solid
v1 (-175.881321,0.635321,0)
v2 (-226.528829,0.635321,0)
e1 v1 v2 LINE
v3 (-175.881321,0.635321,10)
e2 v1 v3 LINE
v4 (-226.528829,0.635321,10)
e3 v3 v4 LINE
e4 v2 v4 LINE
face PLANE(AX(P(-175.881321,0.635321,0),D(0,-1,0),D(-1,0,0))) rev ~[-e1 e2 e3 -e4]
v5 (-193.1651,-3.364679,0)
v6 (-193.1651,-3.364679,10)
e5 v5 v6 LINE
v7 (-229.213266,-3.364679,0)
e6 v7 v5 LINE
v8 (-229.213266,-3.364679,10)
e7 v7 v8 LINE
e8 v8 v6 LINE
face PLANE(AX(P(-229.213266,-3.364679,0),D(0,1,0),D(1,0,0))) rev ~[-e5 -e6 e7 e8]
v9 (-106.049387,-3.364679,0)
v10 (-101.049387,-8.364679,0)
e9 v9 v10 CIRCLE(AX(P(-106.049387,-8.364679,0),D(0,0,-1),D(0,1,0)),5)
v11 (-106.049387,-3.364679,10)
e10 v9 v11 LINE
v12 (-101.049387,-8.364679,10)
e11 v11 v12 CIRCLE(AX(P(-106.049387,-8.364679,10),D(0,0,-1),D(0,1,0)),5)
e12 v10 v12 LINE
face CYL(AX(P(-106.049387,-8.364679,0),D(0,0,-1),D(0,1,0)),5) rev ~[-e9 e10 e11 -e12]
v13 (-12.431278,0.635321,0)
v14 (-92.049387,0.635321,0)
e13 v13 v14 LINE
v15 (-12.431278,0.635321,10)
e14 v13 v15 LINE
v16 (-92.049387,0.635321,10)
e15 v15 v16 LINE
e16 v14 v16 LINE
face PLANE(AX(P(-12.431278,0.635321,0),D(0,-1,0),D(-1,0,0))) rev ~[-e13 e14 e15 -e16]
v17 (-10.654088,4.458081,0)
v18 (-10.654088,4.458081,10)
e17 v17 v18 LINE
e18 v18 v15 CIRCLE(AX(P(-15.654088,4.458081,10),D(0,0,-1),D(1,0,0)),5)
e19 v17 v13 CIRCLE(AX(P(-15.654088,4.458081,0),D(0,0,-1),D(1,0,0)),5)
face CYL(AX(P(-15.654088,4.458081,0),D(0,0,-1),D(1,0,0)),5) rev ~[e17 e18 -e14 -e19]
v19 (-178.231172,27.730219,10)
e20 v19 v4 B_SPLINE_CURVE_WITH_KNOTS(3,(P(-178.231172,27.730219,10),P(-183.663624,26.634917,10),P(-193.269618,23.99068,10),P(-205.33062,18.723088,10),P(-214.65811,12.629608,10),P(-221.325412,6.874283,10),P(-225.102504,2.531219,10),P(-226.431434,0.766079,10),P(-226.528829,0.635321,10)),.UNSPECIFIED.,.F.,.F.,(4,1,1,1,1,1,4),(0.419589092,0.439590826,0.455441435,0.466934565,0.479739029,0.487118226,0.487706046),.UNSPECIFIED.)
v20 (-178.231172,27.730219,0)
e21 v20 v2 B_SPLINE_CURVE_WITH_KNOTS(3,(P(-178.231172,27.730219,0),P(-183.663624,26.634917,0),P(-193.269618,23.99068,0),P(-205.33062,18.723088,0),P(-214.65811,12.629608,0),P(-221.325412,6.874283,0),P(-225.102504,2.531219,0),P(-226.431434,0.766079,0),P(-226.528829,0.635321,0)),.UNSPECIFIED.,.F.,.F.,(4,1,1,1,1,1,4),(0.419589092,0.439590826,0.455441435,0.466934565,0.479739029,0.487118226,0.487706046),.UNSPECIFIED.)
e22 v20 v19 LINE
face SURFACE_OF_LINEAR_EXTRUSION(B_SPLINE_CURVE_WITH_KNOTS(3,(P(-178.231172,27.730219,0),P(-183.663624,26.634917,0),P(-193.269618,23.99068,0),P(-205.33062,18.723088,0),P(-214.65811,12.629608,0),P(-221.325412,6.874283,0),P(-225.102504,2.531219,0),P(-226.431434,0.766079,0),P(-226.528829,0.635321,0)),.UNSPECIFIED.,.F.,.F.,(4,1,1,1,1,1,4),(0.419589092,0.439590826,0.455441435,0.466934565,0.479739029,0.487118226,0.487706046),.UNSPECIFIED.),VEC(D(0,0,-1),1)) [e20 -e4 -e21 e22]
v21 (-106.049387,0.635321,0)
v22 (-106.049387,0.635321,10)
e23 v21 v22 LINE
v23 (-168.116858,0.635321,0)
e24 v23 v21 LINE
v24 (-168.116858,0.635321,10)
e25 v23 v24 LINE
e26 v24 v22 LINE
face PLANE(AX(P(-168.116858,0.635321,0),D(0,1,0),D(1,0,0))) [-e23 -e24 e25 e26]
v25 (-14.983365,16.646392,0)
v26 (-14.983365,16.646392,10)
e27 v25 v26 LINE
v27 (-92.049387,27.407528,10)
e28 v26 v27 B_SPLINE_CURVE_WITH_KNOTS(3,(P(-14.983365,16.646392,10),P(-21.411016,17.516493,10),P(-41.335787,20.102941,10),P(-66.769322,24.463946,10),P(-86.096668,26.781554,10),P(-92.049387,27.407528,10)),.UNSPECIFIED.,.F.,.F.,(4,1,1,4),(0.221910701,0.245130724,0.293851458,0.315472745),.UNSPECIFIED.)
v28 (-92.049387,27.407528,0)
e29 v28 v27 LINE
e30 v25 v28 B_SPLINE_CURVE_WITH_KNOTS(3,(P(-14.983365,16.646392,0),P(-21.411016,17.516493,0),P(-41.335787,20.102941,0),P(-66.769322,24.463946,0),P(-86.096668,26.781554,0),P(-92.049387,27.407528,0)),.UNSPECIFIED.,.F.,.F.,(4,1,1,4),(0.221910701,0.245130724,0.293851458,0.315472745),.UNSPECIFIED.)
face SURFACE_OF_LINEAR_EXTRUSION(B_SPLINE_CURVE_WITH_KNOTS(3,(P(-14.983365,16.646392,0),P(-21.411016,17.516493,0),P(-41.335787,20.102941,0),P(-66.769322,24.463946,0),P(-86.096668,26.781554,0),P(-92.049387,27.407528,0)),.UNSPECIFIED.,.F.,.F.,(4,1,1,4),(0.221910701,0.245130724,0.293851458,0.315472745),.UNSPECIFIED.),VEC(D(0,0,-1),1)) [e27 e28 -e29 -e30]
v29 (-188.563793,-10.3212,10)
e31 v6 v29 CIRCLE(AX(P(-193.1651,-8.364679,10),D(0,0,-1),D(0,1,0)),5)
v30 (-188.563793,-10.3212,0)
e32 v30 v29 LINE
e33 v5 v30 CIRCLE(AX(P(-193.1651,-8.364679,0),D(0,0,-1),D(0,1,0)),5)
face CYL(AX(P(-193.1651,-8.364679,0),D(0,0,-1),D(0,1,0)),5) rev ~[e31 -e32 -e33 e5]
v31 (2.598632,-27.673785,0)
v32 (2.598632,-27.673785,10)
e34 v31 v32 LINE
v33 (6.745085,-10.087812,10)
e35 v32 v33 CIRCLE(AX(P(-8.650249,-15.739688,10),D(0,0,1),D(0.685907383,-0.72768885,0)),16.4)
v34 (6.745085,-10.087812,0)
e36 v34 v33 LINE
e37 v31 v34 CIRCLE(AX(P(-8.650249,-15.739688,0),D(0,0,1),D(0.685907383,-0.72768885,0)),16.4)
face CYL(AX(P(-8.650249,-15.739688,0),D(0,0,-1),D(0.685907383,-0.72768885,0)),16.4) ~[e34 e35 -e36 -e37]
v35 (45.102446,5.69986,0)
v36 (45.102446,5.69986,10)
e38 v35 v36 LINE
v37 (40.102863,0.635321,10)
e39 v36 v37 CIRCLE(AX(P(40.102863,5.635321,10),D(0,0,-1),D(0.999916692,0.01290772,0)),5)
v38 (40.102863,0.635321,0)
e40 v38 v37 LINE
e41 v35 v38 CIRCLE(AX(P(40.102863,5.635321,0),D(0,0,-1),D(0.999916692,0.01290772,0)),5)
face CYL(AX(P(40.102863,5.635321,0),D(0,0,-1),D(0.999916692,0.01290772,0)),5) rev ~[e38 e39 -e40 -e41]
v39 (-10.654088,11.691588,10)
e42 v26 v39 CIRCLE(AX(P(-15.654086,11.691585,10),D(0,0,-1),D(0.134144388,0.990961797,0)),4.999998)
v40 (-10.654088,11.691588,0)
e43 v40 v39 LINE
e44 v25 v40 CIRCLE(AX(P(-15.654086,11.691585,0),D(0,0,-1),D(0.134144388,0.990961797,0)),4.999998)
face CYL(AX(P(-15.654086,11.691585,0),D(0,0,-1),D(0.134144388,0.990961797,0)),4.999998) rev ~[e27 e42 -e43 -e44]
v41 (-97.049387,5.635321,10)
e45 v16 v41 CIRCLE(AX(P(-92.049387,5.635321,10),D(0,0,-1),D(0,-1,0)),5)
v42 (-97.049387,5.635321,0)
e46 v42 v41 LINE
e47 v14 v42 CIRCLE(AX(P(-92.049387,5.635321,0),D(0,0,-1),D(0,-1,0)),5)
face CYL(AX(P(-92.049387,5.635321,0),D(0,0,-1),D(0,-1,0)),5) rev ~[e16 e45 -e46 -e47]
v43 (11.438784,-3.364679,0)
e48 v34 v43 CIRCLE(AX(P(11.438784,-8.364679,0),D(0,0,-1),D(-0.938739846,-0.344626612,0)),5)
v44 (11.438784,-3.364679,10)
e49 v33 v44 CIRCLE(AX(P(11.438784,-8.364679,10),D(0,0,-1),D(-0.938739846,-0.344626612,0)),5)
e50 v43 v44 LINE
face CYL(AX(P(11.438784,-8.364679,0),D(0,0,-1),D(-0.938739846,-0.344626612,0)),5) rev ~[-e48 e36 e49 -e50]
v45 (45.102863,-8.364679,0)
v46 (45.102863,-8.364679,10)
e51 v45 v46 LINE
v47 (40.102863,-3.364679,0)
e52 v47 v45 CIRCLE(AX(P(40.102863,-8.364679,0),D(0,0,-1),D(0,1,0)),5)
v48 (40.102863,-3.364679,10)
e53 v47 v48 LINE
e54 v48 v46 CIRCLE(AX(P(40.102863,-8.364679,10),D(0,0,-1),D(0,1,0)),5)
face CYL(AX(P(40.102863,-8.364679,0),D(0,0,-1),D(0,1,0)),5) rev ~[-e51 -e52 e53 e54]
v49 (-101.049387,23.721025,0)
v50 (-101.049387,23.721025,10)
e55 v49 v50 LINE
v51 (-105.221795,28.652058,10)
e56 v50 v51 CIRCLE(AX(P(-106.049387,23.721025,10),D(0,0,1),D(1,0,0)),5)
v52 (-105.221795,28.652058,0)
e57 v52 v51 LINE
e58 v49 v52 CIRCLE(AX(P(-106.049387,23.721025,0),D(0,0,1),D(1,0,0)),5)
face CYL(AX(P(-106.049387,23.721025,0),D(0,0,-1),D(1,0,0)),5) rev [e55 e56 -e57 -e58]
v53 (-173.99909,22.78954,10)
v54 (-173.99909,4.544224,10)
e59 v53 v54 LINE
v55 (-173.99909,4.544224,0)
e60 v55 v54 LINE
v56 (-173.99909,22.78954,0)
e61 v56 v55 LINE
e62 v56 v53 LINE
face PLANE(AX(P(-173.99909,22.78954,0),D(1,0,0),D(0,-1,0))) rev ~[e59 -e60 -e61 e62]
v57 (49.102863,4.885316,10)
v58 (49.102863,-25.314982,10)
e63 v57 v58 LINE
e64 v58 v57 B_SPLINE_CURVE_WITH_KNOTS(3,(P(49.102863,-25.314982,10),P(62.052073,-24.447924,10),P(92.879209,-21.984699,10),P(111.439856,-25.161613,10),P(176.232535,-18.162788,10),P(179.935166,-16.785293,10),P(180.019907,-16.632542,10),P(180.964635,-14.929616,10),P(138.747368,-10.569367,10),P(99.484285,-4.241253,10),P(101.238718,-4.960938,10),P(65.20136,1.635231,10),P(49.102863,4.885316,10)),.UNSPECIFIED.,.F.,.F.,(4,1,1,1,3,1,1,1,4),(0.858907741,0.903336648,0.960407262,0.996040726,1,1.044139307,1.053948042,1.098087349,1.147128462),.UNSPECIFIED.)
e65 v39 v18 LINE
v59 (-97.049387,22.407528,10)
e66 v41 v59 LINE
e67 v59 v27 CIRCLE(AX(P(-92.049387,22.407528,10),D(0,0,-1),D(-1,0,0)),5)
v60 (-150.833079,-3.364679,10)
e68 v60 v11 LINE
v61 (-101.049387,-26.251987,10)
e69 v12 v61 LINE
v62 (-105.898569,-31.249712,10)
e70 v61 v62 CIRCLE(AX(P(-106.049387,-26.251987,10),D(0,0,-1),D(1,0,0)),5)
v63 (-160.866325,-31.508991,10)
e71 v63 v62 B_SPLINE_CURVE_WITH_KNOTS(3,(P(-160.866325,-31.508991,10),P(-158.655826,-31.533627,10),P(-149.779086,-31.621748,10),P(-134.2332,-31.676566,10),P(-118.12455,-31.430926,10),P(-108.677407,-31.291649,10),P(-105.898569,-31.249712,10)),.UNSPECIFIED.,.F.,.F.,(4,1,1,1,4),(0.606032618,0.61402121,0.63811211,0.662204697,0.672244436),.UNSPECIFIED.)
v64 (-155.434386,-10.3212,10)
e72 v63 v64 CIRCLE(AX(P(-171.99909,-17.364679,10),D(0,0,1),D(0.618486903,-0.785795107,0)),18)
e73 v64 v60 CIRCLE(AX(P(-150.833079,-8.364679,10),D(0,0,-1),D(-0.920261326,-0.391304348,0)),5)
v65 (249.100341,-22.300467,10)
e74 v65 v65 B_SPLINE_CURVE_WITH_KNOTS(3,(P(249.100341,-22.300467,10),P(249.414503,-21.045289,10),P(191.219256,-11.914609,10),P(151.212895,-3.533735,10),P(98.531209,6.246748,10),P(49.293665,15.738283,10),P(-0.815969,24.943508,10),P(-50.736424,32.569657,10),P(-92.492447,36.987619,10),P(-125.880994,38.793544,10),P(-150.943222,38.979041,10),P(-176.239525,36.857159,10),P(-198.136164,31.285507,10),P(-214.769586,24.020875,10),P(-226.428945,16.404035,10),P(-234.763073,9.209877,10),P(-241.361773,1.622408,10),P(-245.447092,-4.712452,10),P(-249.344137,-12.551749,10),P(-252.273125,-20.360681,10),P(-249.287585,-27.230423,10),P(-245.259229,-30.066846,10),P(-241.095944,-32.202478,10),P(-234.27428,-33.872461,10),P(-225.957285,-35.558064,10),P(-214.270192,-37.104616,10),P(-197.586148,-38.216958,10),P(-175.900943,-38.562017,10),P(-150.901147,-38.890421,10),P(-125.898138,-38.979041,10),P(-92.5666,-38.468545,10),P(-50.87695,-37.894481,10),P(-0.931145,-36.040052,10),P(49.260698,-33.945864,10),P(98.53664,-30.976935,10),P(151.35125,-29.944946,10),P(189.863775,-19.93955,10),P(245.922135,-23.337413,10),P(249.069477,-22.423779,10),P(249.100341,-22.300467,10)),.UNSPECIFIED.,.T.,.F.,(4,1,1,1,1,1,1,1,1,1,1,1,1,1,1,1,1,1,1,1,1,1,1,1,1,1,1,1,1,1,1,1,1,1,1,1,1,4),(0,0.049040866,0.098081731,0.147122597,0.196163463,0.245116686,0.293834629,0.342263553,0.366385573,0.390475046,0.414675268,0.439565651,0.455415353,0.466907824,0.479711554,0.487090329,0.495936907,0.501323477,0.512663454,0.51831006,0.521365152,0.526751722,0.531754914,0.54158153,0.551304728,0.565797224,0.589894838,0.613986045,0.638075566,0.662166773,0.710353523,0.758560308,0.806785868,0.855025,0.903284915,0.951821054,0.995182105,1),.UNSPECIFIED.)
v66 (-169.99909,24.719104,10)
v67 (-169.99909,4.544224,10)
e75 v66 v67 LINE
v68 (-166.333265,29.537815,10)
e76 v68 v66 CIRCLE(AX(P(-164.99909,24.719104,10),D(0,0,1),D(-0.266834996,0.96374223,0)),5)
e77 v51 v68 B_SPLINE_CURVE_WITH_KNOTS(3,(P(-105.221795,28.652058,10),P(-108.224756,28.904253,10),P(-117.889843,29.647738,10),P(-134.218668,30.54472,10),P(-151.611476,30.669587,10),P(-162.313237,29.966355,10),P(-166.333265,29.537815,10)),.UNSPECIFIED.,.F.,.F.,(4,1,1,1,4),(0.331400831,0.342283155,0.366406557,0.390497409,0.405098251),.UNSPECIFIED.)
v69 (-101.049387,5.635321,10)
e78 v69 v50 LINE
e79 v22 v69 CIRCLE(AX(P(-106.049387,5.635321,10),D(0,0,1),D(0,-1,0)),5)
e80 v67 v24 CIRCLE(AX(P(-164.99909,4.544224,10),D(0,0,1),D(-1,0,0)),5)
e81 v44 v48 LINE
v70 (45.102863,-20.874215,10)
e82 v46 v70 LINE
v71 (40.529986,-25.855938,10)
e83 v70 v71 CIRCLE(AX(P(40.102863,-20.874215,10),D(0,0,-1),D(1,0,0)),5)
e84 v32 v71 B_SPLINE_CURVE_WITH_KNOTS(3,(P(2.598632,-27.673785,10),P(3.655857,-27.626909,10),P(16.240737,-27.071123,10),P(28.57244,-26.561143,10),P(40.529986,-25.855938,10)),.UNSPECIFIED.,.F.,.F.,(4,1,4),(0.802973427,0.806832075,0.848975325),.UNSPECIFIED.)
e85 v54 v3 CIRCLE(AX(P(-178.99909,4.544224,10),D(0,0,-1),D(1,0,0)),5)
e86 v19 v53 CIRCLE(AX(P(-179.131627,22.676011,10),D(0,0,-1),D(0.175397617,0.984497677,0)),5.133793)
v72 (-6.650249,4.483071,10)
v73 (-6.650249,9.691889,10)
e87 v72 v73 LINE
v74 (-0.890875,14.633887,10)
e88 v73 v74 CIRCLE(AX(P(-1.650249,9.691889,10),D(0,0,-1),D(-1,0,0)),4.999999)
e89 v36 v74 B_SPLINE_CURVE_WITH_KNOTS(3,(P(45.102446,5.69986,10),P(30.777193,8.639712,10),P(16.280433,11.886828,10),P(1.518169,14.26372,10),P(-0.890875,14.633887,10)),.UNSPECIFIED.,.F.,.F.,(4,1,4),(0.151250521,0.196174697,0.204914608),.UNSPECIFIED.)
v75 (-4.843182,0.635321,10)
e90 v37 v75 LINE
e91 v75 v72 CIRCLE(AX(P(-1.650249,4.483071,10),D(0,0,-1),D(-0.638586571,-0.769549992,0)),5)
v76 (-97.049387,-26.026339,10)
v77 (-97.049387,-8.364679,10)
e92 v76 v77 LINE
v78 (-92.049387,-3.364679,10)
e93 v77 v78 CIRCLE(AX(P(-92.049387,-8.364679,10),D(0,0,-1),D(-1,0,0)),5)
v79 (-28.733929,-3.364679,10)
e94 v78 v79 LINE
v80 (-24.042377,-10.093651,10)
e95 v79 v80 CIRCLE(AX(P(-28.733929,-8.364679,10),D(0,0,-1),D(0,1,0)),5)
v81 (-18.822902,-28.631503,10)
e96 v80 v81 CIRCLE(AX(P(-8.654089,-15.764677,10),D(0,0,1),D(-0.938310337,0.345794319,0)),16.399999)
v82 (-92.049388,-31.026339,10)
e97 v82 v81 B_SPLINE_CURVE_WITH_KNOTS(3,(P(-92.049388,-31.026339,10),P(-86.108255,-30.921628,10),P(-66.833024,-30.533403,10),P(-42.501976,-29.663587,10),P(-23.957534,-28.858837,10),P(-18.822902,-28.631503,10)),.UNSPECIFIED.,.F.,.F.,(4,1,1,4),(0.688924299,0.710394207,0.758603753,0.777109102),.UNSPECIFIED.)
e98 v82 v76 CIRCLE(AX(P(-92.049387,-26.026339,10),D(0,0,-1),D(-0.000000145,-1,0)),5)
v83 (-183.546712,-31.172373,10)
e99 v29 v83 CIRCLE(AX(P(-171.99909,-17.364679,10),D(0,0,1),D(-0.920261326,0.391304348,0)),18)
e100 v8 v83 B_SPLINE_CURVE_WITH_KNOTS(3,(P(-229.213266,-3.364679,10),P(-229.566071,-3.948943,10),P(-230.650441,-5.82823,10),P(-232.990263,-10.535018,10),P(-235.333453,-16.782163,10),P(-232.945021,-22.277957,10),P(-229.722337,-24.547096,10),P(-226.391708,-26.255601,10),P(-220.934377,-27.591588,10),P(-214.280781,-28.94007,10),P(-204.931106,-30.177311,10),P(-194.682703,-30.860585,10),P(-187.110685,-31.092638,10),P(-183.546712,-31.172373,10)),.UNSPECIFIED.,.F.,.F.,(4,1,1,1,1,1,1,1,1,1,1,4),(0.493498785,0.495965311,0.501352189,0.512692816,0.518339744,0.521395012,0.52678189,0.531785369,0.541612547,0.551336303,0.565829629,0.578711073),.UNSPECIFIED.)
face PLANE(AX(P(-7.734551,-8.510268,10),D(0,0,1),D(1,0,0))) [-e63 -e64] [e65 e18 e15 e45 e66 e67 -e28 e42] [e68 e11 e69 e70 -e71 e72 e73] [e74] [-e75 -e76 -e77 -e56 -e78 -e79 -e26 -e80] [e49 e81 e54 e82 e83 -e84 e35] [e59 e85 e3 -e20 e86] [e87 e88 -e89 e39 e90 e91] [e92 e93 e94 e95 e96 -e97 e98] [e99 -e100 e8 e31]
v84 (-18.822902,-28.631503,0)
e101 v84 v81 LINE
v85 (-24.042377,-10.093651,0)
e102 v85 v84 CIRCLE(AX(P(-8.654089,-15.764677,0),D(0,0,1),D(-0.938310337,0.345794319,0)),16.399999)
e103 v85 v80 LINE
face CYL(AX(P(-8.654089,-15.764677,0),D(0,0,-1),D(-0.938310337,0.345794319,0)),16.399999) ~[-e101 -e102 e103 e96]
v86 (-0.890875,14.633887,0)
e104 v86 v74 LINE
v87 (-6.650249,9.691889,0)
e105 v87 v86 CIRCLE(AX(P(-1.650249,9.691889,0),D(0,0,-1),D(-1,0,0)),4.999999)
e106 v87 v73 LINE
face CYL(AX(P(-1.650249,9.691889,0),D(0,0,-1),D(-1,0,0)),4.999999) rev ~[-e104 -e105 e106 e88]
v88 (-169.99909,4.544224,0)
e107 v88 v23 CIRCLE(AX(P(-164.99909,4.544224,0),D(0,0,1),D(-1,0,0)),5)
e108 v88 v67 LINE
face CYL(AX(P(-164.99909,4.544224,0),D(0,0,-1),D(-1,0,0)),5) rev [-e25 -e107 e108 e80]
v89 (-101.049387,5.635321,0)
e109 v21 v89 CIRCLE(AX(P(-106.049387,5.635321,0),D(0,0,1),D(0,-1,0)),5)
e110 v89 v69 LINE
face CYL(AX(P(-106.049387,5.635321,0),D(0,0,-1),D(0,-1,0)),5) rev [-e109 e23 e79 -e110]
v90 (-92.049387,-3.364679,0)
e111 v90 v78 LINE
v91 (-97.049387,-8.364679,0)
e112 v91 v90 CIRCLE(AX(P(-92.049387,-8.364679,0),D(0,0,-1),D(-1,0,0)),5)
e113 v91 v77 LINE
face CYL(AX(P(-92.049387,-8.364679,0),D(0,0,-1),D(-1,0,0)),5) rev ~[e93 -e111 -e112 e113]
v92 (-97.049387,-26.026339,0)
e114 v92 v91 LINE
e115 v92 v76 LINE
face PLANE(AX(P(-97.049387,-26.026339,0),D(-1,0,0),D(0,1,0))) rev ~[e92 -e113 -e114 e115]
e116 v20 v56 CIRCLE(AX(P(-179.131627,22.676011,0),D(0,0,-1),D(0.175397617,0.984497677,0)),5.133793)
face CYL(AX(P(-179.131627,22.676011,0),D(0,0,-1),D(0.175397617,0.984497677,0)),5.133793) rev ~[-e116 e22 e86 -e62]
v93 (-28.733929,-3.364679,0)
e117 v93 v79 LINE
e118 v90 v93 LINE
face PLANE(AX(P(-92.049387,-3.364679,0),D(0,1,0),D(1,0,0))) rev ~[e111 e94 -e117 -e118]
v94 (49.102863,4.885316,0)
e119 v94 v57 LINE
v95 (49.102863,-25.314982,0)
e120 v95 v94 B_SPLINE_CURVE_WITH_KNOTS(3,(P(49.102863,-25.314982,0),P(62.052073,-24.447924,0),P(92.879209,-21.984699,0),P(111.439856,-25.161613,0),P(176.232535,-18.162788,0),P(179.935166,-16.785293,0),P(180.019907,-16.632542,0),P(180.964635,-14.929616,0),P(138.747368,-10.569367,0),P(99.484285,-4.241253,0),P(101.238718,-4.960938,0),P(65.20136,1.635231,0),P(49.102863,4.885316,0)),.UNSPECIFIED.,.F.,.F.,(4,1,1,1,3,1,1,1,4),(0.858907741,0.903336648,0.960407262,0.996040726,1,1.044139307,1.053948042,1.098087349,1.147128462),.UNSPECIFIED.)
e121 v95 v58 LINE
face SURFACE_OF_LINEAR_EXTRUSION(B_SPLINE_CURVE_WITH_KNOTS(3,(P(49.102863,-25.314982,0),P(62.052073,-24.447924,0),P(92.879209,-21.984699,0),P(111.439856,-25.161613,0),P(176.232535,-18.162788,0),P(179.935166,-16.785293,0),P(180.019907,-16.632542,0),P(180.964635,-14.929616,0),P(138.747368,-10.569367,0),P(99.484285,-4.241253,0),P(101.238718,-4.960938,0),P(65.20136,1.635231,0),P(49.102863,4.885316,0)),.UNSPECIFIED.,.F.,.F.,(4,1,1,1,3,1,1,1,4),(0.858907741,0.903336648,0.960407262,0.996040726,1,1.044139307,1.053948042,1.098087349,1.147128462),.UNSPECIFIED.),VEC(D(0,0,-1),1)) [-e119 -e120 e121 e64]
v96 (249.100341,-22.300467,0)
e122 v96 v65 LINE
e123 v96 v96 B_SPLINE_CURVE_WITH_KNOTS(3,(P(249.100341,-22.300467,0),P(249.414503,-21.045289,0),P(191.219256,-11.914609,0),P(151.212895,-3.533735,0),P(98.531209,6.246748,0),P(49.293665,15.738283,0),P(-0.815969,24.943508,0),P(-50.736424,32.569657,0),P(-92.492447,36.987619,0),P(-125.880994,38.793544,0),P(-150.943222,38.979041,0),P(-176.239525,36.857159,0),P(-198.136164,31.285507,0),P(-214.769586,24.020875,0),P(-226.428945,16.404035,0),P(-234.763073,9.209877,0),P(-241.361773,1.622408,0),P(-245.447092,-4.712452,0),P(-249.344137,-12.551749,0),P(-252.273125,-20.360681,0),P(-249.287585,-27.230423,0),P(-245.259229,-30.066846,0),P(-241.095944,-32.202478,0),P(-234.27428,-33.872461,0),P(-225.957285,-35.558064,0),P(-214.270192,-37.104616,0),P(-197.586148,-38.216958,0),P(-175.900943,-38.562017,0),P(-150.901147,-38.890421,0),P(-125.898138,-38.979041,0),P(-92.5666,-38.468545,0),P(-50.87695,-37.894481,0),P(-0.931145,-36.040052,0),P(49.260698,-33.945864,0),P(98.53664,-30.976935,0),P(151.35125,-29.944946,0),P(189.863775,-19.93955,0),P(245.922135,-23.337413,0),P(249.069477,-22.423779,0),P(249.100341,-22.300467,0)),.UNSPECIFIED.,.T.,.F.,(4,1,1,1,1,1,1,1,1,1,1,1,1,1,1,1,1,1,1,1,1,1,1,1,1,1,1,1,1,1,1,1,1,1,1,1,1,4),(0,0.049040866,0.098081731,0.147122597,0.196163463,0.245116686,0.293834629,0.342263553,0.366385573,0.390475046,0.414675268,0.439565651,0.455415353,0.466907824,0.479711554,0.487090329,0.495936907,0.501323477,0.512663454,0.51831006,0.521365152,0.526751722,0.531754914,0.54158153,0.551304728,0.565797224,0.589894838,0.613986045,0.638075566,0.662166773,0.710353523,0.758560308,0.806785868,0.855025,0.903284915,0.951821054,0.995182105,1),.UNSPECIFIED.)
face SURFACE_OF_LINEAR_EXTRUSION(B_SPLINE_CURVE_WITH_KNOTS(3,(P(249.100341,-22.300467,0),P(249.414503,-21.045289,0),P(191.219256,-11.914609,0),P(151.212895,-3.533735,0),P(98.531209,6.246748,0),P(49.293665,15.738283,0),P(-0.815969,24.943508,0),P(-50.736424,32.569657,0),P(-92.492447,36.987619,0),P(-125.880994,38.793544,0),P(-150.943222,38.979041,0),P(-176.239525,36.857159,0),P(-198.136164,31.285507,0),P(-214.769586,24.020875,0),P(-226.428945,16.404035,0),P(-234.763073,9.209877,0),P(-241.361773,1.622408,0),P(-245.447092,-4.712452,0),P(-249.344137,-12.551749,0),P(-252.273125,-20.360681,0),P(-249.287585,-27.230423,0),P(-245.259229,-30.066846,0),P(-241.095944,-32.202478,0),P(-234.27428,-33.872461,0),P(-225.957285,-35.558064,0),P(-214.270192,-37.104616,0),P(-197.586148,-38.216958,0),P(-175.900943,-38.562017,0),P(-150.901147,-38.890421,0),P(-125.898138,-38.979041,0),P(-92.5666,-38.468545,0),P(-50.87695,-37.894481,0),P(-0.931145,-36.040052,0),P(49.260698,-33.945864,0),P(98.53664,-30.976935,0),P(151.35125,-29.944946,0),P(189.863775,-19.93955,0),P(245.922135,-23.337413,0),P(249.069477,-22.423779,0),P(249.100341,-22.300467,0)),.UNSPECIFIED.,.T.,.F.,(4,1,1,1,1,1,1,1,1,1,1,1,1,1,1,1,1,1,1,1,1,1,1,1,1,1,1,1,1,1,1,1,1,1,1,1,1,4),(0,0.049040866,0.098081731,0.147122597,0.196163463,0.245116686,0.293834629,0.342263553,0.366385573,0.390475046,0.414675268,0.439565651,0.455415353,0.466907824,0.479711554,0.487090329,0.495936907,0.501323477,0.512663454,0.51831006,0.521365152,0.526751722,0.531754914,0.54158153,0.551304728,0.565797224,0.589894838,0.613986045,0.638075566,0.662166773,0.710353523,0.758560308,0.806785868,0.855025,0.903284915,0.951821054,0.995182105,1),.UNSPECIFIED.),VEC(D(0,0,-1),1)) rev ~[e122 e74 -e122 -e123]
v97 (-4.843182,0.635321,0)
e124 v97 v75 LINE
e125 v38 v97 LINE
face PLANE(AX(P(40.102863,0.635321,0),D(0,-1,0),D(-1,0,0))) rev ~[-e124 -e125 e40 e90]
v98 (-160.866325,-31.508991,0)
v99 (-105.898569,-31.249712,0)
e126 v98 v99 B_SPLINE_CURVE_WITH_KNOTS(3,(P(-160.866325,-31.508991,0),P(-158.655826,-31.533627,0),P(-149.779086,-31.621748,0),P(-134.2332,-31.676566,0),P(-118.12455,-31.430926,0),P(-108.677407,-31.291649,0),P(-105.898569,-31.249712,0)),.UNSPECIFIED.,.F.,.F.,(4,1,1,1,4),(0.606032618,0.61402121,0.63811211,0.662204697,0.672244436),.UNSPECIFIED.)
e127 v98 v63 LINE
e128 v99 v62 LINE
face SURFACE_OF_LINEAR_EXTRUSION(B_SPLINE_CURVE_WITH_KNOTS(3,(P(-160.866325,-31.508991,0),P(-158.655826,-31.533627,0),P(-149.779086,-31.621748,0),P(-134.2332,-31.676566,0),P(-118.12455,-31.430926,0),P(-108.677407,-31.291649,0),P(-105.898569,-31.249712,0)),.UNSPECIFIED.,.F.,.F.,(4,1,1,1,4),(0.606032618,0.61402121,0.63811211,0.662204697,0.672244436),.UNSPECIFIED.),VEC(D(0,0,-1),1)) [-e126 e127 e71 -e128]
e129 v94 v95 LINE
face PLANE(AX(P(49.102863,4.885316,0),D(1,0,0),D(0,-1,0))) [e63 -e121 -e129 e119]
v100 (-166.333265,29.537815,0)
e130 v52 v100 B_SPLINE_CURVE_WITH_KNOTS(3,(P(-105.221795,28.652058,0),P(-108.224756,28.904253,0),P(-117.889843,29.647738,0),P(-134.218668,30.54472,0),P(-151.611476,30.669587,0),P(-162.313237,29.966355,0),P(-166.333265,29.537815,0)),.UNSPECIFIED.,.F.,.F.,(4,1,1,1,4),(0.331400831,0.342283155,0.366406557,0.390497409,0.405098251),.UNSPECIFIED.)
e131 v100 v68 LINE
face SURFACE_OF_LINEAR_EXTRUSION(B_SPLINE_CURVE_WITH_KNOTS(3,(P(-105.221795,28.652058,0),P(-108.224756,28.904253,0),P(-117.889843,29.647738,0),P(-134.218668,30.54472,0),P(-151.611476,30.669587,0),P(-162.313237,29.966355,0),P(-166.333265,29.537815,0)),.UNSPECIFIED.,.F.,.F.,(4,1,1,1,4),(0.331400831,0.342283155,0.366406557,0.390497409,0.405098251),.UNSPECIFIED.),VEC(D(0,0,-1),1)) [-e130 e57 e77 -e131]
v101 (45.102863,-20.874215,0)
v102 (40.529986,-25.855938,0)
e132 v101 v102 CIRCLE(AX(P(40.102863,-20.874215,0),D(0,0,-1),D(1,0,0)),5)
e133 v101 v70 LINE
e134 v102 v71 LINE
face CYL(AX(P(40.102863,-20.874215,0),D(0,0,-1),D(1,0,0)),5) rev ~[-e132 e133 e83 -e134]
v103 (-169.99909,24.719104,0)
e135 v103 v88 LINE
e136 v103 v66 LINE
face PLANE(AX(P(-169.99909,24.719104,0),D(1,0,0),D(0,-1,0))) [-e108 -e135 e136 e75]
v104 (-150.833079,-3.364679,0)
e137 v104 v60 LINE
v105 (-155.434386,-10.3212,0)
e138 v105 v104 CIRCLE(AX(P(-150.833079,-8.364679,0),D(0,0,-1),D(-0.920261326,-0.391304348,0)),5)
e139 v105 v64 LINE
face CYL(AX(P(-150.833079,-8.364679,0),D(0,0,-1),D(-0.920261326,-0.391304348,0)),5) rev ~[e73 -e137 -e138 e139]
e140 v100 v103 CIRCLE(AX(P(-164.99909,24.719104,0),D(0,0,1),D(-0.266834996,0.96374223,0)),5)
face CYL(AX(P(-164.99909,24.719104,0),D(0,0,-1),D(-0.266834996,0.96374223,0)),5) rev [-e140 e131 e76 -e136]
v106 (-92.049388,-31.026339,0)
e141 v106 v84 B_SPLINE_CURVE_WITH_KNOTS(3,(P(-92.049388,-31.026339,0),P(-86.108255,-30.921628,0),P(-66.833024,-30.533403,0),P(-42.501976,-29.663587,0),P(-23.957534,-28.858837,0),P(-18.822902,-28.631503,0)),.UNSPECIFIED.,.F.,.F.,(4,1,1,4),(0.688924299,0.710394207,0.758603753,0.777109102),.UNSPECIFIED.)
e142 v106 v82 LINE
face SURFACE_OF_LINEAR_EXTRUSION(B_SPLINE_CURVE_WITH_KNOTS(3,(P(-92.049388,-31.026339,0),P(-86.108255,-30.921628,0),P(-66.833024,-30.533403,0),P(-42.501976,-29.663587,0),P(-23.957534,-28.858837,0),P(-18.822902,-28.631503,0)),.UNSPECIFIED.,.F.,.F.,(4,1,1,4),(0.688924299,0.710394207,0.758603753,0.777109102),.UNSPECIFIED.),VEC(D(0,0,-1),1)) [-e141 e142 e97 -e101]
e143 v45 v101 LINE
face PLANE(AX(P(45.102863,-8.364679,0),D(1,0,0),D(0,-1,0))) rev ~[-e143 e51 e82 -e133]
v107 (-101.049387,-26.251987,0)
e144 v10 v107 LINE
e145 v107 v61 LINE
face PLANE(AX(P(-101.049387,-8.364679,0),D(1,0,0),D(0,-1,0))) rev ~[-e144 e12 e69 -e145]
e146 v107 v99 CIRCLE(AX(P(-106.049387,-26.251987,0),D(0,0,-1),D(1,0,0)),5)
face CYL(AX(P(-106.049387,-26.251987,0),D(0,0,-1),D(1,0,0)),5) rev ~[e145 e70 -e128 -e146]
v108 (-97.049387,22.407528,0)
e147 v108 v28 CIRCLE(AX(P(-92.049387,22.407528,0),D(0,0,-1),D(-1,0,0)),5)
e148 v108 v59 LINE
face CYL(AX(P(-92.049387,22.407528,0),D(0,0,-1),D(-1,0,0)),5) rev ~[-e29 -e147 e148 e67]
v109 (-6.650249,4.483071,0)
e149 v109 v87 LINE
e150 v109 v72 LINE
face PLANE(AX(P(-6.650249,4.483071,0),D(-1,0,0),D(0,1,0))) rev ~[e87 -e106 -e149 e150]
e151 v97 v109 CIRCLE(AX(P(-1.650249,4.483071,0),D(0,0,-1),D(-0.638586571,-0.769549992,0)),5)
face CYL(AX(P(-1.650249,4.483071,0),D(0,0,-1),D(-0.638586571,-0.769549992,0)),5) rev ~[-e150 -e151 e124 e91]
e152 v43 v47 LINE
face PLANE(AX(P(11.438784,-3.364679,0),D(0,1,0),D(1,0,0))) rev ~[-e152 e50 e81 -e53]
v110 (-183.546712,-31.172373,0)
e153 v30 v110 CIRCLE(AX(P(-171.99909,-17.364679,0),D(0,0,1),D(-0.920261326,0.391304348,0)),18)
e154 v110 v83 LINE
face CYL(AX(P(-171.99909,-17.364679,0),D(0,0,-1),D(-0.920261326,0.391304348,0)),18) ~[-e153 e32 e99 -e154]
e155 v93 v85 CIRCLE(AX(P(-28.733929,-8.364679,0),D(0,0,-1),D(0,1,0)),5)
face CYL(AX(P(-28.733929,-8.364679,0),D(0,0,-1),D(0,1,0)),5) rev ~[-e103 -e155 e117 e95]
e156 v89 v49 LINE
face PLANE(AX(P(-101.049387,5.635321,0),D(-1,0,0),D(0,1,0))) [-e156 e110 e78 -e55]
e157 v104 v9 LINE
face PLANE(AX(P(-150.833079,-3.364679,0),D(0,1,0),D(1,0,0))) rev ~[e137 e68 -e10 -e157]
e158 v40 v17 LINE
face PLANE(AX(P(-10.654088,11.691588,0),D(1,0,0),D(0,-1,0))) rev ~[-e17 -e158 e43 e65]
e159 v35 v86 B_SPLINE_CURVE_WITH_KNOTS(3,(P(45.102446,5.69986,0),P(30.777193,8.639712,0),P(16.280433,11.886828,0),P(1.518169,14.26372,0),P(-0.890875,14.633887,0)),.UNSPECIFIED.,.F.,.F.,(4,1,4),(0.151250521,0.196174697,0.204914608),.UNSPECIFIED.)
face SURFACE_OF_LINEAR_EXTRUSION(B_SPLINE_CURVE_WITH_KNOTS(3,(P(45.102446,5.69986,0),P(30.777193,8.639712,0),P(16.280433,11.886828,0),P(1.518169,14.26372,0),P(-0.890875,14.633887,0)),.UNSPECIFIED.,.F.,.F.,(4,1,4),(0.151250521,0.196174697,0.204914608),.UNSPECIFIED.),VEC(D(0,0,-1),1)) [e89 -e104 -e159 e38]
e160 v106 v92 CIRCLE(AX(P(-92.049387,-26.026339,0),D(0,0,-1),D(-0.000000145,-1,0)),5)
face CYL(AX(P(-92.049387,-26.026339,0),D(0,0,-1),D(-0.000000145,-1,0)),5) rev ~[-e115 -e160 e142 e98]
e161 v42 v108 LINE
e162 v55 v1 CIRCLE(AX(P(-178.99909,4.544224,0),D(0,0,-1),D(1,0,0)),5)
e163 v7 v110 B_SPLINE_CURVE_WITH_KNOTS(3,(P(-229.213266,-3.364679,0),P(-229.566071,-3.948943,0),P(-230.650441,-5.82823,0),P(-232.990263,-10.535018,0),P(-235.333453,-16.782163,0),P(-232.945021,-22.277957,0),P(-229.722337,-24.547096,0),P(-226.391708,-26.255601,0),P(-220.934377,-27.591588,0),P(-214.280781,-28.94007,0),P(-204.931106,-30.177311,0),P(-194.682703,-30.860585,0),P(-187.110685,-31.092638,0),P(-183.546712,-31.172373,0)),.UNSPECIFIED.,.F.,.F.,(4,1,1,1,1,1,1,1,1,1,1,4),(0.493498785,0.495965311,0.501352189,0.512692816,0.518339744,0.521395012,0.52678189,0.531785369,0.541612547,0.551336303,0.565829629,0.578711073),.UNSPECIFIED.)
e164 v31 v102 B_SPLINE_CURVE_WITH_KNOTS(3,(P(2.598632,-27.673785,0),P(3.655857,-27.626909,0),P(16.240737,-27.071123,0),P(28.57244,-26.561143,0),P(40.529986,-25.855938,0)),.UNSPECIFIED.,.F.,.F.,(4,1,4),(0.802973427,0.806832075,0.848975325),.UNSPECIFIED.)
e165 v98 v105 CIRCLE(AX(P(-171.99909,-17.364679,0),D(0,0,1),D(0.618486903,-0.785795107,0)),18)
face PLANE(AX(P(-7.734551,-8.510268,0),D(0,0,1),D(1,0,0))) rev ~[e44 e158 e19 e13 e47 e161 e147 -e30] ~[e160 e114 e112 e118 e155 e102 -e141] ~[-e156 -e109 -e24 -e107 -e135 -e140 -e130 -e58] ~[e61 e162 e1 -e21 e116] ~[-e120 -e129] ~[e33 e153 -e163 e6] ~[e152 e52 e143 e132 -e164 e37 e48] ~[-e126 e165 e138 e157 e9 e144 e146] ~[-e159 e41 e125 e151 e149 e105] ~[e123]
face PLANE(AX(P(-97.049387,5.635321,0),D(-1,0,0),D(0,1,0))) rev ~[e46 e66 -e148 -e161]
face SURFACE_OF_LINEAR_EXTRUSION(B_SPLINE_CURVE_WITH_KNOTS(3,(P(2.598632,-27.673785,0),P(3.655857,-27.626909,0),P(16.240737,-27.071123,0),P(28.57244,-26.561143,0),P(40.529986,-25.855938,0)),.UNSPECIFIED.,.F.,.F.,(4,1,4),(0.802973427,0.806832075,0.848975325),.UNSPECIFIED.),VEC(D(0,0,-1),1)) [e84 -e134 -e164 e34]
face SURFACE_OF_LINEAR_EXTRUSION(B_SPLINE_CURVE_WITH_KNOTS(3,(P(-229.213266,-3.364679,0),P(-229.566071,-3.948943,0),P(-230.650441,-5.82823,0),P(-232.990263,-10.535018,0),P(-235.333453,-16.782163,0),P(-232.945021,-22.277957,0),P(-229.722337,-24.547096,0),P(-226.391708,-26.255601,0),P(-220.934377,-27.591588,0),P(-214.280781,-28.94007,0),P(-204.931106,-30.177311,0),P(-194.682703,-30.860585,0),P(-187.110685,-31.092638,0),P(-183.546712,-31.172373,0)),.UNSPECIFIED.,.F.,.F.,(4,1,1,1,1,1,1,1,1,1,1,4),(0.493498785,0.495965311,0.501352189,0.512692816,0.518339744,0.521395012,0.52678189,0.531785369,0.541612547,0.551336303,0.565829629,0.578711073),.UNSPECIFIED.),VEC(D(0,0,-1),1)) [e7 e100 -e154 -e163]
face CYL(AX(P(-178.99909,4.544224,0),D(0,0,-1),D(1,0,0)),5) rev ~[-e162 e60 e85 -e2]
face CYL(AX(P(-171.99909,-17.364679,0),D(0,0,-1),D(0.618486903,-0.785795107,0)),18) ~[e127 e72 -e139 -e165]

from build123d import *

# Parameters (mm, degrees)
BOSS_EXTRUDE1_DEPTH = 10


with BuildPart() as part:
    # Sketch2 → Boss-Extrude1 (new body)
    with BuildSketch(Plane.XY):
        with BuildLine():
            add(Edge.make_bspline(
                [(249.100340976, -22.300466889), (249.41450338, -21.045289434), (191.219255845, -11.914609165), (151.212895327, -3.533735105), (98.531208702, 6.246748251), (49.293664647, 15.738283166), (-0.81596887, 24.943507567), (-50.736424057, 32.56965713), (-92.492447142, 36.987619279), (-125.880994401, 38.793544278), (-150.943222312, 38.979041464), (-176.239525302, 36.857159422), (-198.136164489, 31.285507167), (-214.769585734, 24.020874576), (-226.428944969, 16.404034942), (-234.763073147, 9.20987659), (-241.3617725, 1.622407729), (-245.447092281, -4.712452003), (-249.344137322, -12.55174904), (-252.273125088, -20.360680833), (-249.287585015, -27.230423186), (-245.259229095, -30.066846383), (-241.095943661, -32.202477902), (-234.274280029, -33.872461481), (-225.957284731, -35.558064096), (-214.270191613, -37.104615753), (-197.586147647, -38.216957675), (-175.900943176, -38.562016502), (-150.901147107, -38.890420569), (-125.898138108, -38.979041464), (-92.566599889, -38.468545323), (-50.876949965, -37.894480852), (-0.931145371, -36.040052426), (49.260698338, -33.945863559), (98.536640201, -30.976934546), (151.351249754, -29.944945838), (189.863775268, -19.939550367), (245.922134572, -23.33741268), (249.069476893, -22.423778591), (249.100340976, -22.300466889)],
                knots=[0, 0, 0, 0, 0.049040866, 0.098081731, 0.147122597, 0.196163463, 0.245116686, 0.293834629, 0.342263553, 0.366385573, 0.390475046, 0.414675268, 0.439565651, 0.455415353, 0.466907824, 0.479711554, 0.487090329, 0.495936907, 0.501323477, 0.512663454, 0.51831006, 0.521365152, 0.526751722, 0.531754914, 0.54158153, 0.551304728, 0.565797224, 0.589894838, 0.613986045, 0.638075566, 0.662166773, 0.710353523, 0.758560308, 0.806785868, 0.855025, 0.903284915, 0.951821054, 0.995182105, 1, 1, 1, 1], degree=3))
        make_face()
        with BuildLine():
            Line((-169.999089523, 24.719103534), (-169.999089523, 4.544223608))
            ThreePointArc((-169.999089523, 4.544223608), (-169.50402262, 2.374989229), (-168.116858406, 0.635321308))
            Line((-168.116858406, 0.635321308), (-106.049387372, 0.635321308))
            ThreePointArc((-106.049387372, 0.635321308), (-102.513853466, 2.099787402), (-101.049387372, 5.635321308))
            Line((-101.049387372, 5.635321308), (-101.049387372, 23.721024894))
            ThreePointArc((-101.049387372, 23.721024894), (-102.23245397, 26.950733768), (-105.221795135, 28.652058365))
            add(Edge.make_bspline(
                [(-105.221795135, 28.652058365), (-108.22475605, 28.904252821), (-117.889842987, 29.647738315), (-134.218668216, 30.544719669), (-151.611475502, 30.669586689), (-162.313237301, 29.966354847), (-166.3332645, 29.537814683)],
                knots=[0.331400831, 0.331400831, 0.331400831, 0.331400831, 0.342283155, 0.366406557, 0.390497409, 0.405098251, 0.405098251, 0.405098251, 0.405098251], degree=3))
            ThreePointArc((-166.3332645, 29.537814683), (-168.978466037, 27.746406386), (-169.999089523, 24.719103534))
        make_face(mode=Mode.SUBTRACT)
        with BuildLine():
            Line((-173.999089523, 22.789540464), (-173.999089523, 4.544223608))
            ThreePointArc((-173.999089523, 4.544223608), (-174.494156426, 2.374989229), (-175.88132064, 0.635321308))
            Line((-175.88132064, 0.635321308), (-226.528828662, 0.635321308))
            add(Edge.make_bspline(
                [(-178.2311722, 27.730218849), (-183.663623867, 26.63491749), (-193.269618364, 23.99068002), (-205.330619848, 18.723087679), (-214.658109814, 12.629607615), (-221.325411735, 6.874282948), (-225.10250415, 2.531219177), (-226.431434046, 0.766078518), (-226.528828662, 0.635321308)],
                knots=[0.419589092, 0.419589092, 0.419589092, 0.419589092, 0.439590826, 0.455441435, 0.466934565, 0.479739029, 0.487118226, 0.487706046, 0.487706046, 0.487706046, 0.487706046], degree=3))
            ThreePointArc((-178.2311722, 27.730218849), (-175.232675326, 26.015772773), (-173.999089523, 22.789540464))
        make_face(mode=Mode.SUBTRACT)
        with BuildLine():
            Line((-229.213265594, -3.364678691), (-193.165100011, -3.364678691))
            ThreePointArc((-193.165100011, -3.364678691), (-188.99481173, -5.606292269), (-188.563793384, -10.32120043))
            ThreePointArc((-188.563793384, -10.32120043), (-189.499620097, -21.575549095), (-183.546712123, -31.172372641))
            add(Edge.make_bspline(
                [(-229.213265594, -3.364678691), (-229.56607116, -3.94894307), (-230.650440623, -5.828230062), (-232.990263157, -10.535017815), (-235.333453368, -16.782163243), (-232.94502131, -22.277957127), (-229.722336573, -24.547095684), (-226.391708229, -26.255600902), (-220.934377309, -27.59158775), (-214.280781174, -28.940069954), (-204.931106189, -30.177310747), (-194.682702999, -30.860585051), (-187.110684985, -31.092638282), (-183.546712123, -31.172372641)],
                knots=[0.493498785, 0.493498785, 0.493498785, 0.493498785, 0.495965311, 0.501352189, 0.512692816, 0.518339744, 0.521395012, 0.52678189, 0.531785369, 0.541612547, 0.551336303, 0.565829629, 0.578711073, 0.578711073, 0.578711073, 0.578711073], degree=3))
        make_face(mode=Mode.SUBTRACT)
        with BuildLine():
            Line((-150.833079034, -3.364678689), (-106.049387371, -3.364678689))
            ThreePointArc((-106.049387371, -3.364678689), (-102.513853465, -4.829144783), (-101.049387371, -8.364678689))
            Line((-101.049387371, -8.364678689), (-101.049387371, -26.25198735))
            ThreePointArc((-101.049387371, -26.25198735), (-102.460927248, -29.733790611), (-105.89856895, -31.249712213))
            add(Edge.make_bspline(
                [(-160.866325259, -31.508990615), (-158.655826483, -31.533626827), (-149.779085747, -31.621747598), (-134.23319998, -31.67656553), (-118.124550479, -31.430925789), (-108.677406982, -31.291649131), (-105.89856895, -31.249712213)],
                knots=[0.606032618, 0.606032618, 0.606032618, 0.606032618, 0.61402121, 0.63811211, 0.662204697, 0.672244436, 0.672244436, 0.672244436, 0.672244436], degree=3))
            ThreePointArc((-160.866325259, -31.508990615), (-154.562976183, -21.834796319), (-155.434385662, -10.321200428))
            ThreePointArc((-155.434385662, -10.321200428), (-155.003367315, -5.606292267), (-150.833079034, -3.364678689))
        make_face(mode=Mode.SUBTRACT)
        with BuildLine():
            Line((-97.049387372, -26.026338985), (-97.049387372, -8.364678692))
            ThreePointArc((-97.049387372, -8.364678692), (-95.584921278, -4.829144786), (-92.049387372, -3.364678692))
            Line((-92.049387372, -3.364678692), (-28.73392905, -3.364678692))
            ThreePointArc((-28.73392905, -3.364678692), (-24.632413488, -5.505033593), (-24.042377499, -10.093650655))
            ThreePointArc((-24.042377499, -10.093650655), (-24.44029657, -20.209406097), (-18.822901654, -28.631503348))
            add(Edge.make_bspline(
                [(-92.049388091, -31.026338991), (-86.108254911, -30.92162783), (-66.833023975, -30.533403195), (-42.501975795, -29.663587132), (-23.957534019, -28.858836788), (-18.822901654, -28.631503348)],
                knots=[0.688924299, 0.688924299, 0.688924299, 0.688924299, 0.710394207, 0.758603753, 0.777109102, 0.777109102, 0.777109102, 0.777109102], degree=3))
            ThreePointArc((-92.049388091, -31.026338991), (-95.584921532, -29.561872638), (-97.049387372, -26.026338985))
        make_face(mode=Mode.SUBTRACT)
        with BuildLine():
            Line((11.43878406, -3.364678692), (40.102863484, -3.364678692))
            ThreePointArc((40.102863484, -3.364678692), (43.638397389, -4.829144786), (45.102863483, -8.364678692))
            Line((45.102863483, -8.364678692), (45.102863483, -20.87421458))
            ThreePointArc((45.102863483, -20.87421458), (43.786313875, -24.255367224), (40.5299862, -25.855937794))
            add(Edge.make_bspline(
                [(2.598632439, -27.673785319), (3.655856629, -27.626908657), (16.240737351, -27.071122716), (28.572440486, -26.561142919), (40.5299862, -25.855937794)],
                knots=[0.802973427, 0.802973427, 0.802973427, 0.802973427, 0.806832075, 0.848975325, 0.848975325, 0.848975325, 0.848975325], degree=3))
            ThreePointArc((2.598632439, -27.673785319), (7.312055668, -19.503308927), (6.745084831, -10.087811751))
            ThreePointArc((6.745084831, -10.087811751), (7.33904838, -5.502482446), (11.43878406, -3.364678692))
        make_face(mode=Mode.SUBTRACT)
        with BuildLine():
            Line((49.102863484, 4.885316094), (49.102863484, -25.314981932))
            add(Edge.make_bspline(
                [(49.102863484, -25.314981932), (62.052073164, -24.447923984), (92.879209306, -21.984699145), (111.439855607, -25.16161349), (176.232534919, -18.162787782), (179.935165554, -16.785293419), (180.019907205, -16.632541808), (180.96463543, -14.929615821), (138.747367769, -10.569366604), (99.484284776, -4.241253233), (101.238717767, -4.96093785), (65.20136027, 1.635231405), (49.102863484, 4.885316094)],
                knots=[0.858907741, 0.858907741, 0.858907741, 0.858907741, 0.903336648, 0.960407262, 0.996040726, 1, 1, 1, 1.044139307, 1.053948042, 1.098087349, 1.147128462, 1.147128462, 1.147128462, 1.147128462], degree=3))
        make_face(mode=Mode.SUBTRACT)
        with BuildLine():
            Line((40.102863484, 0.635321308), (-4.8431815, 0.635321308))
            ThreePointArc((-4.8431815, 0.635321308), (-6.175989703, 2.357590652), (-6.650248643, 4.48307127))
            Line((-6.650248643, 4.48307127), (-6.650248643, 9.69188922))
            ThreePointArc((-6.650248643, 9.69188922), (-4.90625334, 13.486415616), (-0.890875475, 14.633887095))
            add(Edge.make_bspline(
                [(45.102446258, 5.699859909), (30.777193197, 8.639712171), (16.280433389, 11.886828416), (1.518169323, 14.263719808), (-0.890875475, 14.633887095)],
                knots=[0.151250521, 0.151250521, 0.151250521, 0.151250521, 0.196174697, 0.204914608, 0.204914608, 0.204914608, 0.204914608], degree=3))
            ThreePointArc((45.102446258, 5.699859909), (43.661141626, 2.122679598), (40.102863484, 0.635321308))
        make_face(mode=Mode.SUBTRACT)
        with BuildLine():
            Line((-10.654088413, 11.691587752), (-10.654088413, 4.458080764))
            ThreePointArc((-10.654088413, 4.458080764), (-11.120102609, 2.350244733), (-12.431277506, 0.635321308))
            Line((-12.431277506, 0.635321308), (-92.049387372, 0.635321308))
            ThreePointArc((-92.049387372, 0.635321308), (-95.584921278, 2.099787402), (-97.049387372, 5.635321308))
            Line((-97.049387372, 5.635321308), (-97.049387372, 22.407527869))
            ThreePointArc((-97.049387372, 22.407527869), (-95.584921287, 25.943061766), (-92.049387398, 27.40752787))
            add(Edge.make_bspline(
                [(-14.983364555, 16.646392003), (-21.411015565, 17.516492748), (-41.335786931, 20.10294128), (-66.76932187, 24.463945651), (-86.096667733, 26.78155439), (-92.049387398, 27.40752787)],
                knots=[0.221910701, 0.221910701, 0.221910701, 0.221910701, 0.245130724, 0.293851458, 0.315472745, 0.315472745, 0.315472745, 0.315472745], degree=3))
            ThreePointArc((-14.983364555, 16.646392003), (-11.8888789, 14.981447194), (-10.654088413, 11.691587752))
        make_face(mode=Mode.SUBTRACT)
    extrude(amount=BOSS_EXTRUDE1_DEPTH)


solid = part.part
